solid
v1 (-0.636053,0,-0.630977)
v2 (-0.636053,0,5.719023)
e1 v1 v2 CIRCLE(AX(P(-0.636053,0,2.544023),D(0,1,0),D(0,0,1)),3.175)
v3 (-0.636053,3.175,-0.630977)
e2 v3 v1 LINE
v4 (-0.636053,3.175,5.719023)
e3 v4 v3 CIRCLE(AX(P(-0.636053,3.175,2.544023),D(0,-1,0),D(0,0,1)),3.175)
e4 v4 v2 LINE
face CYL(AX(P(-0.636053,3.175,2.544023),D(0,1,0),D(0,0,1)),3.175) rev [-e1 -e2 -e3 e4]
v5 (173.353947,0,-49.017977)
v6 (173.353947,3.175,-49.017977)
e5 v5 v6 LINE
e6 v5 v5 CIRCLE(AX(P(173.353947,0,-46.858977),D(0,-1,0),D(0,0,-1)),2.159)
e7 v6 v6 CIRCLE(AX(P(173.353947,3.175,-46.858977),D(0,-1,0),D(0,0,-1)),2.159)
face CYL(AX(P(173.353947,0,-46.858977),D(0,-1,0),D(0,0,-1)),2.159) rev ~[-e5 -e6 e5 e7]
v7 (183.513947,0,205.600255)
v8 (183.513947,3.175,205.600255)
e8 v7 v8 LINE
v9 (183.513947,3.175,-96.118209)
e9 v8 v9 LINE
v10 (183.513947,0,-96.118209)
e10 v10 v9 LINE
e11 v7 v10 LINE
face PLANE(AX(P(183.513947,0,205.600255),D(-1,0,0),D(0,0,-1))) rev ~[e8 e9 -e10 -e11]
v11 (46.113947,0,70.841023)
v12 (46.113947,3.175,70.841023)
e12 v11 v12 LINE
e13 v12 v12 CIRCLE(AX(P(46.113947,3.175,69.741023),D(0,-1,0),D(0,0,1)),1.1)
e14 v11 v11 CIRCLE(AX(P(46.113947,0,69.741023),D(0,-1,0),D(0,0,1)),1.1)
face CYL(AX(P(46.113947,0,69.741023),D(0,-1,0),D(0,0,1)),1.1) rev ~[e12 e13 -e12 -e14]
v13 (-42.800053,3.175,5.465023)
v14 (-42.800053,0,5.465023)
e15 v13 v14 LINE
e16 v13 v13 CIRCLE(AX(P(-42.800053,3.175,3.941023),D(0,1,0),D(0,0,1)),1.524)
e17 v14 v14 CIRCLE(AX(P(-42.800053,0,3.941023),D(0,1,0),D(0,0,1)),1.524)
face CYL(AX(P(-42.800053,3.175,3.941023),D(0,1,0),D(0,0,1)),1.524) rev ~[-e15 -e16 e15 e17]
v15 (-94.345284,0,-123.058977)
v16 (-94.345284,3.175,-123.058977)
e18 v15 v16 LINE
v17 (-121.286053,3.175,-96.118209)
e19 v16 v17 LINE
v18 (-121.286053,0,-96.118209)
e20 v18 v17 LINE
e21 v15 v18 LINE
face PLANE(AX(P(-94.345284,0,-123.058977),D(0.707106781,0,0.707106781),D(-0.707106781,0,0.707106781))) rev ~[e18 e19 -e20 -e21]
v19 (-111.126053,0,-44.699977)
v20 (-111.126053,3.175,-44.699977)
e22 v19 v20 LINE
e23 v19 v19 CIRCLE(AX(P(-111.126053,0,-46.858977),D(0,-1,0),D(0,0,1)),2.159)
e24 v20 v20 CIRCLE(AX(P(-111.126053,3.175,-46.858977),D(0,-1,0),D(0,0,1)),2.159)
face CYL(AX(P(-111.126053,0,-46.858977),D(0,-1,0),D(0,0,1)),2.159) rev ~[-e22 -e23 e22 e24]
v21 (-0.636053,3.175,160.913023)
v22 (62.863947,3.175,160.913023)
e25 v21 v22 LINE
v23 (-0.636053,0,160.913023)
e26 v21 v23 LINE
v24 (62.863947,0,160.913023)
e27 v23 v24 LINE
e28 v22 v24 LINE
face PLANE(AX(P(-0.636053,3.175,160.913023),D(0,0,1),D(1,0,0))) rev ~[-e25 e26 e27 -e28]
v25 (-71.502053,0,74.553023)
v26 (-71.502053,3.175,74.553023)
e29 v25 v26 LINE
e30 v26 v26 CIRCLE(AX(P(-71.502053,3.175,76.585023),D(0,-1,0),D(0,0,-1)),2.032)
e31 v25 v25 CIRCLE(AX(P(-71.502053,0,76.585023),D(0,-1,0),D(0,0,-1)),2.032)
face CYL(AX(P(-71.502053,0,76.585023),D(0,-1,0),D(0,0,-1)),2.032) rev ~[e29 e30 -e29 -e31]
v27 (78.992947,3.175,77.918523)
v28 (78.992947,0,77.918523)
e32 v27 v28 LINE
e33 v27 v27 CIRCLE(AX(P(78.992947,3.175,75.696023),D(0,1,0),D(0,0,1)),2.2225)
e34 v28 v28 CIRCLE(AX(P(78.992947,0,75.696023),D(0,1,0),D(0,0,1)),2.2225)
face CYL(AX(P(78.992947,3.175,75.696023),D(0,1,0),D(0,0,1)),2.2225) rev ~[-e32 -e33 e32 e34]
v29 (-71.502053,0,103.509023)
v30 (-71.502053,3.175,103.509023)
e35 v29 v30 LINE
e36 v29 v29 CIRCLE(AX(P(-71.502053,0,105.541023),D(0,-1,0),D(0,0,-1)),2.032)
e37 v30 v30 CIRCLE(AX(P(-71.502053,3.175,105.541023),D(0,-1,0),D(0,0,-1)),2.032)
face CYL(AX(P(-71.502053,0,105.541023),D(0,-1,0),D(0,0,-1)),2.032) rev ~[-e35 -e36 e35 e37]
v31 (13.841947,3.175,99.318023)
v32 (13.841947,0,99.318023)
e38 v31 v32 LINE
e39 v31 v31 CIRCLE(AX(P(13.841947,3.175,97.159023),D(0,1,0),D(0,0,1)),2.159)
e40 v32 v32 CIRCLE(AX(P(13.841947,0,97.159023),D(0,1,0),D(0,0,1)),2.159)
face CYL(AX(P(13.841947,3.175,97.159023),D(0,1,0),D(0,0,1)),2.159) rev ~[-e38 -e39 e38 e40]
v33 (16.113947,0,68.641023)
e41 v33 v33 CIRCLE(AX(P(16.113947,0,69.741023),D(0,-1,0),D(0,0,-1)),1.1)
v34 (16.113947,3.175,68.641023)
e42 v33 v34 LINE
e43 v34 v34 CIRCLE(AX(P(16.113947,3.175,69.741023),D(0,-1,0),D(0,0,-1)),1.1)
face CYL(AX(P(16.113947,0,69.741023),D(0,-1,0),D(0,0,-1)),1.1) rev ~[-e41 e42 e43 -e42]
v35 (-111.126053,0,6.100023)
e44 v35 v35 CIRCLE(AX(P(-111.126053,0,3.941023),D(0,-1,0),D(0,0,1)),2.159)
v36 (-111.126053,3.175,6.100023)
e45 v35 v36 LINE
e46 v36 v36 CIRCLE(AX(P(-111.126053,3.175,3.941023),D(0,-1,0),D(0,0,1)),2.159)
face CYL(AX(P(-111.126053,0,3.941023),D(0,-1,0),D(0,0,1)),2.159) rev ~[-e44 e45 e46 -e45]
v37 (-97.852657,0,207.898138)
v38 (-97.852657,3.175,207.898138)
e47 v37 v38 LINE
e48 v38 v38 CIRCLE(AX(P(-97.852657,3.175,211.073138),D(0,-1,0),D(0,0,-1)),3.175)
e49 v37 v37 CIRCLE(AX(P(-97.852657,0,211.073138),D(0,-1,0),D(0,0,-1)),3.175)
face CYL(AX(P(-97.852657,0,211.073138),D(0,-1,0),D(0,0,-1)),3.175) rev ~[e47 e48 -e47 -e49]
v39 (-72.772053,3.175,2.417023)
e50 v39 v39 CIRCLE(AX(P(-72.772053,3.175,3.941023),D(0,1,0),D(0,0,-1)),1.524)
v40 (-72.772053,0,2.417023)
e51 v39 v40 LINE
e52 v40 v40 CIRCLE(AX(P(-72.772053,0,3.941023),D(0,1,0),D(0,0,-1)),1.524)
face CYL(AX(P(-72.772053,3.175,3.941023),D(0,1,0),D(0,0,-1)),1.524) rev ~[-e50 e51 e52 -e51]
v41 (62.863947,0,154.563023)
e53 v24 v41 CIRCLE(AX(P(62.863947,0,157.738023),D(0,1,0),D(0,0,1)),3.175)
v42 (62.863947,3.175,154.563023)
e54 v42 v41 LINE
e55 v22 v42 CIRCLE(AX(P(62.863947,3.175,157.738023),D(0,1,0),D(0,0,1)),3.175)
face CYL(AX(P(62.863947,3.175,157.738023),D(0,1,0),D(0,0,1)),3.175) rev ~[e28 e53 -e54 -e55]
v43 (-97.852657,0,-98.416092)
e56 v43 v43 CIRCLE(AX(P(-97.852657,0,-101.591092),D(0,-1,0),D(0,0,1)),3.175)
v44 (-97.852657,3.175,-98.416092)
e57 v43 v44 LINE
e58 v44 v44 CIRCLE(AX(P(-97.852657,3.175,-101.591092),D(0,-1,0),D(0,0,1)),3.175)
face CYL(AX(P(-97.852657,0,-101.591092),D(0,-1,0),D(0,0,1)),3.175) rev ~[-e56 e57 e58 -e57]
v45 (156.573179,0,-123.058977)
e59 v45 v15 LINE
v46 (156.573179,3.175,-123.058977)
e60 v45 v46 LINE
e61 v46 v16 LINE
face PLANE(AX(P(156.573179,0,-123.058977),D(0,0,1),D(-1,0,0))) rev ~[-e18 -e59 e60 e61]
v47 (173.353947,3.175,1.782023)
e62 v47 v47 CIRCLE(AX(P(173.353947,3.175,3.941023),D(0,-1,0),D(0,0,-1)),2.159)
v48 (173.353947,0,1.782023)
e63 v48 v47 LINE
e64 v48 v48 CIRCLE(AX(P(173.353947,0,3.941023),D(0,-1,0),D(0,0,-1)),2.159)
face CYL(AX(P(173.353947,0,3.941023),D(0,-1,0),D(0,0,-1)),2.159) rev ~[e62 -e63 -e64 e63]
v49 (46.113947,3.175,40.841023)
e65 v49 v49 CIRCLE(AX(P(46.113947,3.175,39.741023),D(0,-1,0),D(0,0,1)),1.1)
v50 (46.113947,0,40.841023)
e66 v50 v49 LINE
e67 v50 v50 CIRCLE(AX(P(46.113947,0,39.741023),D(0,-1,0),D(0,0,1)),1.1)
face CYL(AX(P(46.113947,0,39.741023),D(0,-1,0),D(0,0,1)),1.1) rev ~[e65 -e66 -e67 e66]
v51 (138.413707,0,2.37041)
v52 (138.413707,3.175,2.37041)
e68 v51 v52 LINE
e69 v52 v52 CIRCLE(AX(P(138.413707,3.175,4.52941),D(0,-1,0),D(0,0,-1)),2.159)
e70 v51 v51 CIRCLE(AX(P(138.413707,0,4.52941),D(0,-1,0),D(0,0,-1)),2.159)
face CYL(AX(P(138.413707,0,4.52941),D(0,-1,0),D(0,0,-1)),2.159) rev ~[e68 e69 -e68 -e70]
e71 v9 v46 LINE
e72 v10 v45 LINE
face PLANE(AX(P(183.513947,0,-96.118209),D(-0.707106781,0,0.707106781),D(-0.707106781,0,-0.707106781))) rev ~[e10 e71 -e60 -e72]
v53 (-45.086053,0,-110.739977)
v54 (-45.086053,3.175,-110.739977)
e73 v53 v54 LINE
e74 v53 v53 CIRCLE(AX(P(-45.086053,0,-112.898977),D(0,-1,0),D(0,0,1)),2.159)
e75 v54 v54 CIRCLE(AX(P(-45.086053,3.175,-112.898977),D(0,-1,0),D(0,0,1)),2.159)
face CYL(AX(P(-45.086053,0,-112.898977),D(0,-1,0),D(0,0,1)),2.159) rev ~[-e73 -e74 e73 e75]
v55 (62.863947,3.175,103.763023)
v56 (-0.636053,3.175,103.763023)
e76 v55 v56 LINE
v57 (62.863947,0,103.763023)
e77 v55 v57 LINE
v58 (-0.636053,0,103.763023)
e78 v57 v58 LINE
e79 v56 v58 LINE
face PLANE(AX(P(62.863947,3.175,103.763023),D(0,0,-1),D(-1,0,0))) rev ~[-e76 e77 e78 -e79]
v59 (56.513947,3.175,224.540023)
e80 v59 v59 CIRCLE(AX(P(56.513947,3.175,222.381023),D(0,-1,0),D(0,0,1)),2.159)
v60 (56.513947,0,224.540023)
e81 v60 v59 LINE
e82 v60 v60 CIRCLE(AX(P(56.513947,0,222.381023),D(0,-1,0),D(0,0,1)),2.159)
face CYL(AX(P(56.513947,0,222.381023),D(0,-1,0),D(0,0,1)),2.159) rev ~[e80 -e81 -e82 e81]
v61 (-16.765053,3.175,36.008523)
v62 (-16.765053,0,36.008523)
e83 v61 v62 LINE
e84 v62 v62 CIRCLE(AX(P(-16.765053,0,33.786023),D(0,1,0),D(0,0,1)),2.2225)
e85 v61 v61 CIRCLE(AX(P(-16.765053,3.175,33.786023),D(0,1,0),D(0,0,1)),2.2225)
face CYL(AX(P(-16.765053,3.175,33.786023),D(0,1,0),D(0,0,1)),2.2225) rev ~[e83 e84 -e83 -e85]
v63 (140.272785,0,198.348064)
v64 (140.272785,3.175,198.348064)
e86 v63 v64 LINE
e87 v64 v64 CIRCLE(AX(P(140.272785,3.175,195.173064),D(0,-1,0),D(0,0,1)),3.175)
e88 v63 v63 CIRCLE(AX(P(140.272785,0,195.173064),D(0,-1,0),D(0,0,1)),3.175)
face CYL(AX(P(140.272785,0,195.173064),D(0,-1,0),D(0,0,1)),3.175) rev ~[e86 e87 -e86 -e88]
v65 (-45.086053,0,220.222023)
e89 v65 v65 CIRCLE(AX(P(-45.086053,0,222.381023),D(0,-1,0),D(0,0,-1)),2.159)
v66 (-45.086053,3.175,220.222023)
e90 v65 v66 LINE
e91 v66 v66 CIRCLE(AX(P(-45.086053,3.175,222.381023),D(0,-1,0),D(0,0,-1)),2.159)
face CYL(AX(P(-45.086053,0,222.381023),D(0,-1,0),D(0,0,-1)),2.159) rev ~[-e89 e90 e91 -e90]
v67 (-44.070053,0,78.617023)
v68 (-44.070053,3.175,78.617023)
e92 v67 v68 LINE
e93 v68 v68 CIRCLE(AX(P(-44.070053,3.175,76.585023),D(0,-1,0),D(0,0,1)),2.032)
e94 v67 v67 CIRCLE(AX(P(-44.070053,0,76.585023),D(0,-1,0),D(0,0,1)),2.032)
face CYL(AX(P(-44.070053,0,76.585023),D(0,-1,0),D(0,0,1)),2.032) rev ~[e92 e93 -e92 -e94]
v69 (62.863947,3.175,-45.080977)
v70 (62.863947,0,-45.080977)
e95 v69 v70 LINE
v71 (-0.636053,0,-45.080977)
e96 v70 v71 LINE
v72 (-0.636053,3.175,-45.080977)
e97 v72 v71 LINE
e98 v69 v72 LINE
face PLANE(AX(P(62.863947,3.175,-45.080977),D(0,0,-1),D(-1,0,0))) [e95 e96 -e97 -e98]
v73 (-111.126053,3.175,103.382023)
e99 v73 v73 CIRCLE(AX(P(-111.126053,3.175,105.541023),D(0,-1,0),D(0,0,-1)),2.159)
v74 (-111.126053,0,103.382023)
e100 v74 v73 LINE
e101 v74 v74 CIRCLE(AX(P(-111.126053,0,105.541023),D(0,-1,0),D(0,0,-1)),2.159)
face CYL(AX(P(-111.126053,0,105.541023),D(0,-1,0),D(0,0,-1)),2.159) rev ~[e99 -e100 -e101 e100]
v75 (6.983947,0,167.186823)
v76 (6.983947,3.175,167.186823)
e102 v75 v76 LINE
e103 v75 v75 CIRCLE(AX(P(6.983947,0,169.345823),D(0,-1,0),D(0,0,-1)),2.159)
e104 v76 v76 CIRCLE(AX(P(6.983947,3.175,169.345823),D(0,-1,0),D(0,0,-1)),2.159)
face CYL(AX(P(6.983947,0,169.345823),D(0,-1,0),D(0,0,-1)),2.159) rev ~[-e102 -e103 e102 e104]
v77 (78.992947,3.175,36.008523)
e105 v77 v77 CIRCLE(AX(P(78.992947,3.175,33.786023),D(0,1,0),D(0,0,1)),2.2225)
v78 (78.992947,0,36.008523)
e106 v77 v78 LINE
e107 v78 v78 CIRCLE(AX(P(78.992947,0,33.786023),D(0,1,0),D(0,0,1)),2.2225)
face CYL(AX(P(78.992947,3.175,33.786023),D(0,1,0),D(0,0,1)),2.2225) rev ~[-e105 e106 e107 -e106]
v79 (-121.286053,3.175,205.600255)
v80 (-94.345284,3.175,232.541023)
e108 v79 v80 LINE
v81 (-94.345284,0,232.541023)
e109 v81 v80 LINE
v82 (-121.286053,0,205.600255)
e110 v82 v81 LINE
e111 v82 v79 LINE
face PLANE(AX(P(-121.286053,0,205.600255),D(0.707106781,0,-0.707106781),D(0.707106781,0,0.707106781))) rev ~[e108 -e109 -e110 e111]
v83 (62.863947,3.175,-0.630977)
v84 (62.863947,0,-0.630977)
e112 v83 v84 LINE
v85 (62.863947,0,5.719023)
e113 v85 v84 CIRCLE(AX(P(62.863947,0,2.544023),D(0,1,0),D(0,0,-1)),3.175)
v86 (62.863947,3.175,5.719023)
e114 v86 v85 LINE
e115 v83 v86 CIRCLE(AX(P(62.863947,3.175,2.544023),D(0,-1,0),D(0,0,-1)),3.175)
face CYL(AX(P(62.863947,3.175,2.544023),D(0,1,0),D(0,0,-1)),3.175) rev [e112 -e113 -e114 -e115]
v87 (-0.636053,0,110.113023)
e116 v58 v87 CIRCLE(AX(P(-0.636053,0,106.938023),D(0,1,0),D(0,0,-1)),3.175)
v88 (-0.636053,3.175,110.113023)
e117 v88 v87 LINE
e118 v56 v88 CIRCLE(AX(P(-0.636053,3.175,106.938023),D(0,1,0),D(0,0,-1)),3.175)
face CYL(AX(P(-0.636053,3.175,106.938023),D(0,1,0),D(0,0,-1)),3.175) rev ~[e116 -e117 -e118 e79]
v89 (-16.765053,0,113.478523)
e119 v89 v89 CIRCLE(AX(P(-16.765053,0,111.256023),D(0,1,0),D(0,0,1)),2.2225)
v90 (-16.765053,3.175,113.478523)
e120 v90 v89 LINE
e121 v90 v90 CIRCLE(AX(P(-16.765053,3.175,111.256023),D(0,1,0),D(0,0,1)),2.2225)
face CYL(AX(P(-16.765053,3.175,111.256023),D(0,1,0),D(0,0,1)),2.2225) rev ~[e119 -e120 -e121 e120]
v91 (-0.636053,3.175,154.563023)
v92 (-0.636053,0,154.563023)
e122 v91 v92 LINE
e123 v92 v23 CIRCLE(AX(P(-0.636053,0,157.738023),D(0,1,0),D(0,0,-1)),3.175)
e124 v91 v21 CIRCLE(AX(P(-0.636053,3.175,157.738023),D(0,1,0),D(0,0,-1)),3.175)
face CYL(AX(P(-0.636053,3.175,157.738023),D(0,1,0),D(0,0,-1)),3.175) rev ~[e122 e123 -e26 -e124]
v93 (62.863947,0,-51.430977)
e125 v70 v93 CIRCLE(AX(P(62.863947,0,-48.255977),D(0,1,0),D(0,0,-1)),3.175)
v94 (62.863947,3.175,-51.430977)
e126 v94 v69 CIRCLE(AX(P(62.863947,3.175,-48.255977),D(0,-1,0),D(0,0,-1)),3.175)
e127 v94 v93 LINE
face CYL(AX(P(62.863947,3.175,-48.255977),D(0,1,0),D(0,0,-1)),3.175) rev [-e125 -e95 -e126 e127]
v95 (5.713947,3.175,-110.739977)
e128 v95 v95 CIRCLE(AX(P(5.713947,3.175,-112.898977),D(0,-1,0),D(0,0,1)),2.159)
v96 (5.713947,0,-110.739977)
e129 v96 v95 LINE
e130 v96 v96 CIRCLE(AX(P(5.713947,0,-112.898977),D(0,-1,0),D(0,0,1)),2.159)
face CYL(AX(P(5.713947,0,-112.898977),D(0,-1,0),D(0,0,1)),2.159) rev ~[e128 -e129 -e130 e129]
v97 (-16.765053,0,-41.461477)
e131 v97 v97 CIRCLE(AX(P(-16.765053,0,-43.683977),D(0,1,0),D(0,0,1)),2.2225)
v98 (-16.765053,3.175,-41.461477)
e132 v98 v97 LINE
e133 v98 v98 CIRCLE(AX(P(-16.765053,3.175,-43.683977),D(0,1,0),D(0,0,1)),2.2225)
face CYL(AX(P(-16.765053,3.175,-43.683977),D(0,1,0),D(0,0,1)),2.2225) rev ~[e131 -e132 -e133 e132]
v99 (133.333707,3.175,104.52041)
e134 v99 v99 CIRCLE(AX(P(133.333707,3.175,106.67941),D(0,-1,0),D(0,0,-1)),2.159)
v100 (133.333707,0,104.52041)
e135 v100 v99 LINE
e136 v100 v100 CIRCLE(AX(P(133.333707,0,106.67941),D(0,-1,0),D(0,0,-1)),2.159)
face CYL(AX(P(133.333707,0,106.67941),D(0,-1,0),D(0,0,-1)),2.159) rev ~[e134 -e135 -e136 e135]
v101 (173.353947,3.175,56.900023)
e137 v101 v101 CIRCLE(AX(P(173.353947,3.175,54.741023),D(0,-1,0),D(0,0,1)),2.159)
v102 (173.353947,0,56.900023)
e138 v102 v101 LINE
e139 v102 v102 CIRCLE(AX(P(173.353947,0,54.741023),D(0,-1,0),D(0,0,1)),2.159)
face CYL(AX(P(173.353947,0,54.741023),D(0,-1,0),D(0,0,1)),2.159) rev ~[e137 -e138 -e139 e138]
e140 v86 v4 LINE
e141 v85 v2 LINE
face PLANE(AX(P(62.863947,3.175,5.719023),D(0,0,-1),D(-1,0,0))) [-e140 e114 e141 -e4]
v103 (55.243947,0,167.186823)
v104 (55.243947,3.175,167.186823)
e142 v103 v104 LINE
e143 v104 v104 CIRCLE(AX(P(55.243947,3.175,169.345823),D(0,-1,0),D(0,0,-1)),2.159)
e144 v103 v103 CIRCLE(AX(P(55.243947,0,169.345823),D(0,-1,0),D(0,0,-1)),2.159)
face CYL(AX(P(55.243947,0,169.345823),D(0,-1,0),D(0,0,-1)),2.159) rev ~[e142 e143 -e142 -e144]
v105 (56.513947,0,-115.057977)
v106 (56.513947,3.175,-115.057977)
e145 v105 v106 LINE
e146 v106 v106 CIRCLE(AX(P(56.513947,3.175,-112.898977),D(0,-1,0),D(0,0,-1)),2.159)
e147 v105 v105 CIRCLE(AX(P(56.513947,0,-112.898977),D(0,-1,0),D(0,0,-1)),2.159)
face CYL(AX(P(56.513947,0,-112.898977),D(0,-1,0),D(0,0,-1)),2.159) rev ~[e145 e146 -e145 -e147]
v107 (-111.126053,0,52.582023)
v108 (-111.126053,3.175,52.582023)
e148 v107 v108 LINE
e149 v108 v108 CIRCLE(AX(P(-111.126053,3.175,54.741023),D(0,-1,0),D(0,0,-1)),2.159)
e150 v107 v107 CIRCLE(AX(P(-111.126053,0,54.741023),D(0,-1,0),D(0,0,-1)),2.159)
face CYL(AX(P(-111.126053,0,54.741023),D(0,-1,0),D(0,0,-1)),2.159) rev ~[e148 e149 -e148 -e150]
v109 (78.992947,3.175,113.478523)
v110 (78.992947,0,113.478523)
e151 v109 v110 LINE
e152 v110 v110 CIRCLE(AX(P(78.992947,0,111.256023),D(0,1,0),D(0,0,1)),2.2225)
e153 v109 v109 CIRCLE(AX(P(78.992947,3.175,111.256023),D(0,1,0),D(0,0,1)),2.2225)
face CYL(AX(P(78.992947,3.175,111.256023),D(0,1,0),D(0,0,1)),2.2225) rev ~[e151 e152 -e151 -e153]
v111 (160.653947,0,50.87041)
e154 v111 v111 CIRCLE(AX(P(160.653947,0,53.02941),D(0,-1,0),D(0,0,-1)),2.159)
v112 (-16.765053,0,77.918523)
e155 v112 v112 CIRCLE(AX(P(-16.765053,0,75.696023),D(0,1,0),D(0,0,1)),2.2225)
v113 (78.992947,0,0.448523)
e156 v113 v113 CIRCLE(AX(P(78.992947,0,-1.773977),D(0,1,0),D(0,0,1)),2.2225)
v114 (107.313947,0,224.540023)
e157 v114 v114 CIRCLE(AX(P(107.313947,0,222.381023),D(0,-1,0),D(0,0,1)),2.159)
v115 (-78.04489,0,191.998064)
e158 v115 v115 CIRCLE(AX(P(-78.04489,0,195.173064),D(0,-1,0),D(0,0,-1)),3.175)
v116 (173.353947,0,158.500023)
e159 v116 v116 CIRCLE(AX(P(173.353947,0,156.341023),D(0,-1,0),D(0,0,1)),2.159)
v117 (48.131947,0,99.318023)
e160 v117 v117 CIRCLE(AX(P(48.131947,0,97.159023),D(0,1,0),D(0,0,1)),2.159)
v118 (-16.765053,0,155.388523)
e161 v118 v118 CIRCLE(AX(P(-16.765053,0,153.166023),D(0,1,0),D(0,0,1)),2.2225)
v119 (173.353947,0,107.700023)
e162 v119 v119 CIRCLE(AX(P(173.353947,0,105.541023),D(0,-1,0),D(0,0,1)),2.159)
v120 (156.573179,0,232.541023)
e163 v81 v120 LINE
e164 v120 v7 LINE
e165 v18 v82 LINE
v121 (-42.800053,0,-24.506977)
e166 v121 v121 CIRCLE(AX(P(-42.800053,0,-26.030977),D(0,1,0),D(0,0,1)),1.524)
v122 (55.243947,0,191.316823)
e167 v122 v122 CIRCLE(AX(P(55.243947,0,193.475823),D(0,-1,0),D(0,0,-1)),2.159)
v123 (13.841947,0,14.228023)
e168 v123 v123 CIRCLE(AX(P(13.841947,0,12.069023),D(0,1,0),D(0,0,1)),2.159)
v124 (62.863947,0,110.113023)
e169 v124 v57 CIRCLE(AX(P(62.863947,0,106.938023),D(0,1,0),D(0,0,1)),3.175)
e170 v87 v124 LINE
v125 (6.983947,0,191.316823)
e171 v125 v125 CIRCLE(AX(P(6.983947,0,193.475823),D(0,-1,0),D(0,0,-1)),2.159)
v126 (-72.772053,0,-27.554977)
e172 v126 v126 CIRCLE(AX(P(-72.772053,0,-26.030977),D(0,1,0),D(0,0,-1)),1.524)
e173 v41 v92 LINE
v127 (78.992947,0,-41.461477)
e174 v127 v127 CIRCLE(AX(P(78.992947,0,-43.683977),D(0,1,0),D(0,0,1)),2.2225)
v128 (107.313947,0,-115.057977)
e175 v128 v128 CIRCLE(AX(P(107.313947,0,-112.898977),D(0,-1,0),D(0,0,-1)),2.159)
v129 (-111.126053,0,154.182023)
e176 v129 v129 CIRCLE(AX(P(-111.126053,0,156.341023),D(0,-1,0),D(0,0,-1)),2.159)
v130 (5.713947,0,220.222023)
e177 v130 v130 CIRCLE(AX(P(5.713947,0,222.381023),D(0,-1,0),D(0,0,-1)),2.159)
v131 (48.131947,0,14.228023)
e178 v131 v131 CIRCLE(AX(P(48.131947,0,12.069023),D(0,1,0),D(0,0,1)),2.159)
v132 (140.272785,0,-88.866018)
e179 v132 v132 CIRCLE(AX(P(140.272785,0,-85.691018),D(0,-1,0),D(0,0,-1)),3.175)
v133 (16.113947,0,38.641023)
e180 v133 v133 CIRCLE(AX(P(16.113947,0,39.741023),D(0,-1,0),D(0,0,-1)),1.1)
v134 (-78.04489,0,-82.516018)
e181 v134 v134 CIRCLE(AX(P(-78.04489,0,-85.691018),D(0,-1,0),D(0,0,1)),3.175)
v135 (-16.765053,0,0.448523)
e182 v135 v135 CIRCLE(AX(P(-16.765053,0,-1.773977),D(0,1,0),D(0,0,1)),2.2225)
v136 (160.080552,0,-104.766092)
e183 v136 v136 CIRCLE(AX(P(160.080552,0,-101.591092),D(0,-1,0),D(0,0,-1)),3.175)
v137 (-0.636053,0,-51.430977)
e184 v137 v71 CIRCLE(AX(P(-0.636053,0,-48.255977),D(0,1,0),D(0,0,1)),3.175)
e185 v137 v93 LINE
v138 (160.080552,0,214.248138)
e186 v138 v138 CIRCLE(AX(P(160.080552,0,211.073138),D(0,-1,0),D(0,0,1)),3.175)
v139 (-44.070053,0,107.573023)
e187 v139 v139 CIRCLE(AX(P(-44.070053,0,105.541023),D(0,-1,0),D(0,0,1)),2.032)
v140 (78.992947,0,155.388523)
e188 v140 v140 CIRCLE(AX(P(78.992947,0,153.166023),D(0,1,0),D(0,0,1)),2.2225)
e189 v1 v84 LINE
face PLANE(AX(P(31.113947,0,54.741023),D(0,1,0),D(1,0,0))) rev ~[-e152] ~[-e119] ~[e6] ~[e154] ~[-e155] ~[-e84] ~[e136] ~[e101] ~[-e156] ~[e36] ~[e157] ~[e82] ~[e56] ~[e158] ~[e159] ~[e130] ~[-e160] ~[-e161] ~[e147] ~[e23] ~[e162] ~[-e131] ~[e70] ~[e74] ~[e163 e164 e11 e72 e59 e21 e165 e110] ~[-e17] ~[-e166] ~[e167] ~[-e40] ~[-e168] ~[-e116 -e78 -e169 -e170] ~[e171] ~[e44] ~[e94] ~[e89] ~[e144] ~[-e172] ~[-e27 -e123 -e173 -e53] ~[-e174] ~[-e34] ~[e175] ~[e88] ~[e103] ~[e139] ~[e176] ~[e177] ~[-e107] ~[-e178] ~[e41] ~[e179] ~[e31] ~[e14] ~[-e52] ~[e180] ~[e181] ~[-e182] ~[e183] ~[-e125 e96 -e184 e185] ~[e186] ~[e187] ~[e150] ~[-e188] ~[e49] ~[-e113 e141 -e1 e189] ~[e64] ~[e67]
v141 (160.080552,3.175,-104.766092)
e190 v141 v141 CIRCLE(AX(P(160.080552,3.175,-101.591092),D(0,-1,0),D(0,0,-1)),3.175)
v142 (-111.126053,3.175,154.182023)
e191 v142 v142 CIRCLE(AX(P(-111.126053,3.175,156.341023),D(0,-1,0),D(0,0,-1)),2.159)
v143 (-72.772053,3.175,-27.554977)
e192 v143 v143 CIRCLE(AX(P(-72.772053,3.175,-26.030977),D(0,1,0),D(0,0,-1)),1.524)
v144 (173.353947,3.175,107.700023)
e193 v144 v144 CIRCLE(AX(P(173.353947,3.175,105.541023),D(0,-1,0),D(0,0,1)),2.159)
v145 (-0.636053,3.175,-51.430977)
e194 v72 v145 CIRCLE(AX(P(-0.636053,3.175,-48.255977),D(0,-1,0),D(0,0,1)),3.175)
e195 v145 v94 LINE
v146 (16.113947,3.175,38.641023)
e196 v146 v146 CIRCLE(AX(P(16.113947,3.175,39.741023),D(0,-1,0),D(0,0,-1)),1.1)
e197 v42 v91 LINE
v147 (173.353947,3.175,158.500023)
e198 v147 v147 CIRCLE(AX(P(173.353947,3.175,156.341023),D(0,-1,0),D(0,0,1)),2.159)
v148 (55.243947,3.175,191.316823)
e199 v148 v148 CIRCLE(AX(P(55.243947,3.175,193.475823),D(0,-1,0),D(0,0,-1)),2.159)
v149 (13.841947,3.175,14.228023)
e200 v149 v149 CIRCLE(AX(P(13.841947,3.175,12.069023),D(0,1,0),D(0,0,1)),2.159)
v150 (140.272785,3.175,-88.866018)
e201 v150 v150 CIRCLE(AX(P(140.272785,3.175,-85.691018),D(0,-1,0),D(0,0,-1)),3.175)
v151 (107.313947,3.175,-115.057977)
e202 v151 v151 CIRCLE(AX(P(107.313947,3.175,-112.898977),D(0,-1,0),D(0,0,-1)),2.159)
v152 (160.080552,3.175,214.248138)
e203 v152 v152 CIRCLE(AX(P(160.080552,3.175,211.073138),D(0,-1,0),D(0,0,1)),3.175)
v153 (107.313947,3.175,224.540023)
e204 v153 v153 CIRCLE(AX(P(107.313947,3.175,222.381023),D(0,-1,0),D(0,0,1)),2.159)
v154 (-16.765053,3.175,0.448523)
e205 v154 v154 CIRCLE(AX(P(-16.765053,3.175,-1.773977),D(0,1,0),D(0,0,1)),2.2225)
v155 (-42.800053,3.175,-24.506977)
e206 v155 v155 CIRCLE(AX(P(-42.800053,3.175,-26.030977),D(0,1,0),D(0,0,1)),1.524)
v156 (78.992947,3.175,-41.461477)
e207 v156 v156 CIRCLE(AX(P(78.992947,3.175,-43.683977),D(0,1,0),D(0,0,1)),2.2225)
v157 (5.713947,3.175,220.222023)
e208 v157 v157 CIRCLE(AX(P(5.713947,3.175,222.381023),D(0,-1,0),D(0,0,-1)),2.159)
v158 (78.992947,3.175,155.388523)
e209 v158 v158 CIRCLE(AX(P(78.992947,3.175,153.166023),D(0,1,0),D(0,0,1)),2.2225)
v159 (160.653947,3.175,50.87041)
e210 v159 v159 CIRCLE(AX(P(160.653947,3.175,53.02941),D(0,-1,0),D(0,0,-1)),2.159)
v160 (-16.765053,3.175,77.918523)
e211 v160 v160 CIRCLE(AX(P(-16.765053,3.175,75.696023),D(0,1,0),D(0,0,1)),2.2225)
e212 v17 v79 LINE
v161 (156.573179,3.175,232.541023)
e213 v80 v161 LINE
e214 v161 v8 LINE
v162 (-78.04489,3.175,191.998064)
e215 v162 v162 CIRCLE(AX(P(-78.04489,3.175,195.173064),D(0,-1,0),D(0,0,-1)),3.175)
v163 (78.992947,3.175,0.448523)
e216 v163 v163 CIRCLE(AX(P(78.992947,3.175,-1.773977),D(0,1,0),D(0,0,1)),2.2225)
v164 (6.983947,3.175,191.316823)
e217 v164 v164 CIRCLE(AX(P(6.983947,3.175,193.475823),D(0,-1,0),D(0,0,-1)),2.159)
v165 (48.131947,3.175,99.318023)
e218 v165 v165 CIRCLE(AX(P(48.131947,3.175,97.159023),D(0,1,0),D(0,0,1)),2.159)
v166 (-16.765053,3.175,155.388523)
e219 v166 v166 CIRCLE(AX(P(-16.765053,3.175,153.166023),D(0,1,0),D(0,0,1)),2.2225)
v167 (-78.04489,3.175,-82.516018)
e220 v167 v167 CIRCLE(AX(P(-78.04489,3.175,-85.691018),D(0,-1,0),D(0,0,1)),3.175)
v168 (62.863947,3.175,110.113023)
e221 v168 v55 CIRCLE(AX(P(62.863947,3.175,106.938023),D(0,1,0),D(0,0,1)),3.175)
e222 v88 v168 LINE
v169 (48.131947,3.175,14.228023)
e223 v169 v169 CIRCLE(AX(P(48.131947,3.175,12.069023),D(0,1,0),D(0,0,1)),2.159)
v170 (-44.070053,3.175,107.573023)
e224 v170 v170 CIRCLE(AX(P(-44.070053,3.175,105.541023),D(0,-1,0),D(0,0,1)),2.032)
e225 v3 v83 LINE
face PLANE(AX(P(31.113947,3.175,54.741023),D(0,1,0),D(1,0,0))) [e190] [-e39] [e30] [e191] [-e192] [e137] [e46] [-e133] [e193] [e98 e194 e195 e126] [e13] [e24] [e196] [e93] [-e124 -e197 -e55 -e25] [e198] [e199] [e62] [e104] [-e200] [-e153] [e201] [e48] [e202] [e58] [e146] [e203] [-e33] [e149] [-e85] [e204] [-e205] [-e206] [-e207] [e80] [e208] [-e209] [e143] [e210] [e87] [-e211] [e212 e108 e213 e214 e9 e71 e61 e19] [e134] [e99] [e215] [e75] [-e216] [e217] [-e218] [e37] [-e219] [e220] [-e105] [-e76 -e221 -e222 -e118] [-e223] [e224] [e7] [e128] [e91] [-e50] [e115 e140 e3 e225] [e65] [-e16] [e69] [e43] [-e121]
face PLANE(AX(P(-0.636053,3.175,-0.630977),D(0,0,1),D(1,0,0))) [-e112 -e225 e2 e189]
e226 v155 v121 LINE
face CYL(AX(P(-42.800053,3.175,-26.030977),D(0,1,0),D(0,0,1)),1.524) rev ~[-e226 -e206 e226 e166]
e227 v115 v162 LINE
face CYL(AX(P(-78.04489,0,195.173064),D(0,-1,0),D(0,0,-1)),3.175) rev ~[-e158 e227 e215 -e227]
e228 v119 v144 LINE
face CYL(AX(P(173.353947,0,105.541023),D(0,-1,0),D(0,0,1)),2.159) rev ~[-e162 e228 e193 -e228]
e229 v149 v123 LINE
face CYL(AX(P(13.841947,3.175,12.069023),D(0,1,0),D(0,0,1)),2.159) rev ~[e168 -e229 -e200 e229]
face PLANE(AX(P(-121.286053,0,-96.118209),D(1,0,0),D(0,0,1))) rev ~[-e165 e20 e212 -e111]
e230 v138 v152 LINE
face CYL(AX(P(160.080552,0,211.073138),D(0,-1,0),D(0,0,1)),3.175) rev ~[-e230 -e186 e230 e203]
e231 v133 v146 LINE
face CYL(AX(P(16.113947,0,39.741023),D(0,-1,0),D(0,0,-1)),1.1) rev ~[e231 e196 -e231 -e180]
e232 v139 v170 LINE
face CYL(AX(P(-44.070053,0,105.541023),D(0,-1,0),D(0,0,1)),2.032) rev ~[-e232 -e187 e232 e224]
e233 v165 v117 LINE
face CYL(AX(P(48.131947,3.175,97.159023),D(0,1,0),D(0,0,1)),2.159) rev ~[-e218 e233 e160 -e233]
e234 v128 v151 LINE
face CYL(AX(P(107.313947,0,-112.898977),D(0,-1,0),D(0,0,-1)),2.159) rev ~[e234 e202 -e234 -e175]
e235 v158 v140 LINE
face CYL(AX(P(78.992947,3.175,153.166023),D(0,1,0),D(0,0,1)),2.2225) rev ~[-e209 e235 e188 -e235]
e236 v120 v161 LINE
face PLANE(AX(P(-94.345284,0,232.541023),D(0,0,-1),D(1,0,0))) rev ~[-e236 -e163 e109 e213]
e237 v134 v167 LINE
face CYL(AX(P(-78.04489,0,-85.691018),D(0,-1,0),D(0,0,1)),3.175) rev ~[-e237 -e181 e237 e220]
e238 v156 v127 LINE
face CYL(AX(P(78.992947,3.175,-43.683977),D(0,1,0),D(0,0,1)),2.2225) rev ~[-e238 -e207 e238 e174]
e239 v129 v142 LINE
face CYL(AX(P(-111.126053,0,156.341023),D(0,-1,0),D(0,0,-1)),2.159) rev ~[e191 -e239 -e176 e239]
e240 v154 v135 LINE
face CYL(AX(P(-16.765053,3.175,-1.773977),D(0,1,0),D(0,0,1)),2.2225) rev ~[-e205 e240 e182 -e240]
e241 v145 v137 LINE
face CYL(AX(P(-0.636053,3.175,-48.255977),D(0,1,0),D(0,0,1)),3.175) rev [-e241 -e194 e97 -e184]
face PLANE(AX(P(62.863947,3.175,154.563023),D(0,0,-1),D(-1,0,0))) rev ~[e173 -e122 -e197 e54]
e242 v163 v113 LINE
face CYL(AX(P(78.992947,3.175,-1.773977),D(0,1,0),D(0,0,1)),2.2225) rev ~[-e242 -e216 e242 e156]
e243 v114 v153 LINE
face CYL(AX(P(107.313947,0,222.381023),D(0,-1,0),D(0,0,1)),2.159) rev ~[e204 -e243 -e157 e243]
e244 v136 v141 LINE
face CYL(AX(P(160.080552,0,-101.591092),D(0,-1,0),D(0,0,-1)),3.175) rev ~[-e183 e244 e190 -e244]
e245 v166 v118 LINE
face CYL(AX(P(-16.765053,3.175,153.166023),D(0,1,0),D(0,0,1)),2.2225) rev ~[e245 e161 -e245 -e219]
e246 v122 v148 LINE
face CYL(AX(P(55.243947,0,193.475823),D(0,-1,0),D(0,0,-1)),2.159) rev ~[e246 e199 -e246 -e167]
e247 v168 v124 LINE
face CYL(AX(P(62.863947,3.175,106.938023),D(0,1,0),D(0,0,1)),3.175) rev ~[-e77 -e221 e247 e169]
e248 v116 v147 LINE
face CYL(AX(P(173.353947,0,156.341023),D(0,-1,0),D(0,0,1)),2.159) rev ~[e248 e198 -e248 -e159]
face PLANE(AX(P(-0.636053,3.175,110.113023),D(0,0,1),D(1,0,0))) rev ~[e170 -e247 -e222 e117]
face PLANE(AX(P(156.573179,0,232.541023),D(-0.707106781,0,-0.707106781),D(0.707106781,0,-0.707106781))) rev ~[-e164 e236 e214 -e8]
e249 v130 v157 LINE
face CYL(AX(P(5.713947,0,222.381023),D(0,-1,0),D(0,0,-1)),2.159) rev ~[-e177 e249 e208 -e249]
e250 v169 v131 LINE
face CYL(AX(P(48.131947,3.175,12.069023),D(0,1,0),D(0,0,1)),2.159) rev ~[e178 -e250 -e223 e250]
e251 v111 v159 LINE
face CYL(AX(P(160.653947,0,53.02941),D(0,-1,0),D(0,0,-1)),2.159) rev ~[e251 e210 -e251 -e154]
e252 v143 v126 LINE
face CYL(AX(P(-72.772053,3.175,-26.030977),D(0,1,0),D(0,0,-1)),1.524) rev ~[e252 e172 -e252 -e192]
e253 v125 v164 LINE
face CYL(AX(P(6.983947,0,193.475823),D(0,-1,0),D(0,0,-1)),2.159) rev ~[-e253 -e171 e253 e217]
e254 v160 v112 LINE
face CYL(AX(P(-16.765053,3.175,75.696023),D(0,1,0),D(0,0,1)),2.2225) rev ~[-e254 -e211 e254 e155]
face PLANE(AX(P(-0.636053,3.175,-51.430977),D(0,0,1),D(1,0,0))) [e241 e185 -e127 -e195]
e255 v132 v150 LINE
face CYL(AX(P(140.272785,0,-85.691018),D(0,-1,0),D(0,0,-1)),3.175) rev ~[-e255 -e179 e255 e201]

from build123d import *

# Parameters (mm, degrees)
BOSS_EXTRUDE1_DEPTH = 3.175
SKETCH2_R           = 2.159
CUT_EXTRUDE1_DEPTH  = 297.247830215
CUT_EXTRUDE2_DEPTH  = 297.247830215
SKETCH7_R           = 1.524
CUT_EXTRUDE3_DEPTH  = 297.247830215
SKETCH10_R          = 2.159
CUT_EXTRUDE6_DEPTH  = 297.247830215
SKETCH9_R           = 2.032
CUT_EXTRUDE5_DEPTH  = 297.247830215
SKETCH13_R          = 1.1
CUT_EXTRUDE8_DEPTH  = 297.247830215
SKETCH14_R          = 3.175
CUT_EXTRUDE9_DEPTH  = 297.247830215
SKETCH15_R          = 2.159
CUT_EXTRUDE10_DEPTH = 297.247830215
SKETCH16_R          = 2.159
CUT_EXTRUDE11_DEPTH = 297.247830215
SKETCH17_R          = 2.2225
CUT_EXTRUDE13_DEPTH = 297.247830215


with BuildPart() as part:
    # Sketch1 → Boss-Extrude1 (new body)
    with BuildSketch(Plane(origin=(0, 0, 0), x_dir=(1, 0, 0), z_dir=(0, 1, 0))):
        Polygon((-94.345284264, 123.058976948), (-121.286052627, 96.118208585), (-121.286052627, -205.600254688), (-94.345284264, -232.541023052), (156.573179009, -232.541023052), (183.513947373, -205.600254688), (183.513947373, 96.118208585), (156.573179009, 123.058976948), align=None)
    extrude(amount=BOSS_EXTRUDE1_DEPTH)

    # Sketch2 → Cut-Extrude1 (cut, through all)
    with BuildSketch(Plane(origin=(0, 3.175, 0), x_dir=(1, 0, 0), z_dir=(0, 1, 0))):
        with Locations(Location((13.841947373, -12.069023052, 0), (0, 0, 270))):
            Circle(SKETCH2_R)
        with Locations(Location((48.131947373, -12.069023052, 0), (0, 0, 270))):
            Circle(SKETCH2_R)
        with Locations(Location((13.841947373, -97.159023052, 0), (0, 0, 270))):
            Circle(SKETCH2_R)
        with Locations(Location((48.131947373, -97.159023052, 0), (0, 0, 270))):
            Circle(SKETCH2_R)
    extrude(amount=-CUT_EXTRUDE1_DEPTH, mode=Mode.SUBTRACT)

    # Sketch4 → Cut-Extrude2 (cut, through all)
    with BuildSketch(Plane(origin=(0, 3.175, 0), x_dir=(1, 0, 0), z_dir=(0, 1, 0))):
        with BuildLine():
            Line((-0.636052627, 51.430976948), (62.863947373, 51.430976948))
            ThreePointArc((62.863947373, 51.430976948), (66.038947373, 48.255976948), (62.863947373, 45.080976948))
            Line((62.863947373, 45.080976948), (-0.636052627, 45.080976948))
            ThreePointArc((-0.636052627, 45.080976948), (-3.811052627, 48.255976948), (-0.636052627, 51.430976948))
        make_face()
        with BuildLine():
            Line((-0.636052627, 0.630976948), (62.863947373, 0.630976948))
            ThreePointArc((62.863947373, 0.630976948), (66.038947373, -2.544023052), (62.863947373, -5.719023052))
            Line((62.863947373, -5.719023052), (-0.636052627, -5.719023052))
            ThreePointArc((-0.636052627, -5.719023052), (-3.811052627, -2.544023052), (-0.636052627, 0.630976948))
        make_face()
        with BuildLine():
            Line((-0.636052627, -110.113023052), (62.863947373, -110.113023052))
            ThreePointArc((62.863947373, -110.113023052), (66.038947373, -106.938023052), (62.863947373, -103.763023052))
            Line((62.863947373, -103.763023052), (-0.636052627, -103.763023052))
            ThreePointArc((-0.636052627, -103.763023052), (-3.811052627, -106.938023052), (-0.636052627, -110.113023052))
        make_face()
        with BuildLine():
            Line((-0.636052627, -160.913023052), (62.863947373, -160.913023052))
            ThreePointArc((62.863947373, -160.913023052), (66.038947373, -157.738023052), (62.863947373, -154.563023052))
            Line((62.863947373, -154.563023052), (-0.636052627, -154.563023052))
            ThreePointArc((-0.636052627, -154.563023052), (-3.811052627, -157.738023052), (-0.636052627, -160.913023052))
        make_face()
    extrude(amount=-CUT_EXTRUDE2_DEPTH, mode=Mode.SUBTRACT)

    # Sketch7 → Cut-Extrude3 (cut, through all)
    with BuildSketch(Plane(origin=(0, 3.175, 0), x_dir=(1, 0, 0), z_dir=(0, 1, 0))):
        with Locations(Location((-42.800052627, 26.030976948, 0), (0, 0, 270))):
            Circle(SKETCH7_R)
        with Locations(Location((-42.800052627, -3.941023052, 0), (0, 0, 270))):
            Circle(SKETCH7_R)
        with Locations(Location((-72.772052627, -3.941023052, 0), (0, 0, 90))):
            Circle(SKETCH7_R)
        with Locations(Location((-72.772052627, 26.030976948, 0), (0, 0, 90))):
            Circle(SKETCH7_R)
    extrude(amount=-CUT_EXTRUDE3_DEPTH, mode=Mode.SUBTRACT)

    # Sketch10 → Cut-Extrude6 (cut, through all)
    with BuildSketch(Plane.XZ):
        with Locations(Location((6.983947373, 193.475823052, 0), (0, 0, 270))):
            Circle(SKETCH10_R)
        with Locations(Location((55.243947373, 193.475823052, 0), (0, 0, 270))):
            Circle(SKETCH10_R)
        with Locations(Location((6.983947373, 169.345823052, 0), (0, 0, 270))):
            Circle(SKETCH10_R)
        with Locations(Location((55.243947373, 169.345823052, 0), (0, 0, 270))):
            Circle(SKETCH10_R)
    extrude(amount=-CUT_EXTRUDE6_DEPTH, mode=Mode.SUBTRACT)

    # Sketch9 → Cut-Extrude5 (cut, through all)
    with BuildSketch(Plane(origin=(0, 0, 0), x_dir=(-1, 0, 0), z_dir=(0, -1, 0))):
        with Locations(Location((71.502052627, -105.541023052, 0), (0, 0, 90))):
            Circle(SKETCH9_R)
        with Locations(Location((44.070052627, -105.541023052, 0), (0, 0, 270))):
            Circle(SKETCH9_R)
        with Locations(Location((71.502052627, -76.585023052, 0), (0, 0, 90))):
            Circle(SKETCH9_R)
        with Locations(Location((44.070052627, -76.585023052, 0), (0, 0, 270))):
            Circle(SKETCH9_R)
    extrude(amount=-CUT_EXTRUDE5_DEPTH, mode=Mode.SUBTRACT)

    # Sketch13 → Cut-Extrude8 (cut, through all)
    with BuildSketch(Plane.XZ):
        with Locations(Location((16.113947373, 69.741023052, 0), (0, 0, 270))):
            Circle(SKETCH13_R)
        with Locations(Location((16.113947373, 39.741023052, 0), (0, 0, 270))):
            Circle(SKETCH13_R)
        with Locations(Location((46.113947373, 39.741023052, 0), (0, 0, 90))):
            Circle(SKETCH13_R)
        with Locations(Location((46.113947373, 69.741023052, 0), (0, 0, 90))):
            Circle(SKETCH13_R)
    extrude(amount=-CUT_EXTRUDE8_DEPTH, mode=Mode.SUBTRACT)

    # Sketch14 → Cut-Extrude9 (cut, through all)
    with BuildSketch(Plane.XZ):
        with Locations(Location((-97.852656819, 211.073138254, 0), (0, 0, 270))):
            Circle(SKETCH14_R)
        with Locations(Location((-78.044889942, 195.173063684, 0), (0, 0, 270))):
            Circle(SKETCH14_R)
        with Locations(Location((140.272784687, 195.173063684, 0), (0, 0, 90))):
            Circle(SKETCH14_R)
        with Locations(Location((160.080551565, 211.073138254, 0), (0, 0, 90))):
            Circle(SKETCH14_R)
        with Locations(Location((-97.852656819, -101.591092151, 0), (0, 0, 90))):
            Circle(SKETCH14_R)
        with Locations(Location((-78.044889942, -85.691017581, 0), (0, 0, 90))):
            Circle(SKETCH14_R)
        with Locations(Location((160.080551565, -101.591092151, 0), (0, 0, 270))):
            Circle(SKETCH14_R)
        with Locations(Location((140.272784687, -85.691017581, 0), (0, 0, 270))):
            Circle(SKETCH14_R)
    extrude(amount=-CUT_EXTRUDE9_DEPTH, mode=Mode.SUBTRACT)

    # Sketch15 → Cut-Extrude10 (cut, through all)
    with BuildSketch(Plane.XZ):
        with Locations(Location((5.713947373, 222.381023052, 0), (0, 0, 270))):
            Circle(SKETCH15_R)
        with Locations(Location((-45.086052627, 222.381023052, 0), (0, 0, 270))):
            Circle(SKETCH15_R)
        with Locations(Location((-111.126052627, 54.741023052, 0), (0, 0, 270))):
            Circle(SKETCH15_R)
        with Locations(Location((-111.126052627, 105.541023052, 0), (0, 0, 270))):
            Circle(SKETCH15_R)
        with Locations(Location((-111.126052627, 156.341023052, 0), (0, 0, 270))):
            Circle(SKETCH15_R)
        with Locations(Location((173.353947373, 156.341023052, 0), (0, 0, 90))):
            Circle(SKETCH15_R)
        with Locations(Location((173.353947373, 105.541023052, 0), (0, 0, 90))):
            Circle(SKETCH15_R)
        with Locations(Location((173.353947373, 54.741023052, 0), (0, 0, 90))):
            Circle(SKETCH15_R)
        with Locations(Location((107.313947373, 222.381023052, 0), (0, 0, 90))):
            Circle(SKETCH15_R)
        with Locations(Location((56.513947373, 222.381023052, 0), (0, 0, 90))):
            Circle(SKETCH15_R)
        with Locations(Location((56.513947373, -112.898976948, 0), (0, 0, 270))):
            Circle(SKETCH15_R)
        with Locations(Location((107.313947373, -112.898976948, 0), (0, 0, 270))):
            Circle(SKETCH15_R)
        with Locations(Location((173.353947373, 3.941023052, 0), (0, 0, 270))):
            Circle(SKETCH15_R)
        with Locations(Location((173.353947373, -46.858976948, 0), (0, 0, 270))):
            Circle(SKETCH15_R)
        with Locations(Location((-111.126052627, -46.858976948, 0), (0, 0, 90))):
            Circle(SKETCH15_R)
        with Locations(Location((-111.126052627, 3.941023052, 0), (0, 0, 90))):
            Circle(SKETCH15_R)
        with Locations(Location((-45.086052627, -112.898976948, 0), (0, 0, 90))):
            Circle(SKETCH15_R)
        with Locations(Location((5.713947373, -112.898976948, 0), (0, 0, 90))):
            Circle(SKETCH15_R)
    extrude(amount=-CUT_EXTRUDE10_DEPTH, mode=Mode.SUBTRACT)

    # Sketch16 → Cut-Extrude11 (cut, through all)
    with BuildSketch(Plane(origin=(0, 0, 0), x_dir=(-1, 0, 0), z_dir=(0, -1, 0))):
        with Locations(Location((-133.333707373, -106.679409794, 0), (0, 0, 90))):
            Circle(SKETCH16_R)
        with Locations(Location((-138.413707373, -4.529409794, 0), (0, 0, 90))):
            Circle(SKETCH16_R)
        with Locations(Location((-160.653947373, -53.029409794, 0), (0, 0, 90))):
            Circle(SKETCH16_R)
    extrude(amount=-CUT_EXTRUDE11_DEPTH, mode=Mode.SUBTRACT)

    # Sketch17 → Cut-Extrude13 (cut, through all)
    with BuildSketch(Plane(origin=(0, 3.175, 0), x_dir=(1, 0, 0), z_dir=(0, 1, 0))):
        with Locations(Location((78.992947373, -153.166023052, 0), (0, 0, 270))):
            Circle(SKETCH17_R)
        with Locations(Location((-16.765052627, -153.166023052, 0), (0, 0, 270))):
            Circle(SKETCH17_R)
        with Locations(Location((78.992947373, -111.256023052, 0), (0, 0, 270))):
            Circle(SKETCH17_R)
        with Locations(Location((-16.765052627, -111.256023052, 0), (0, 0, 270))):
            Circle(SKETCH17_R)
        with Locations(Location((78.992947373, -75.696023052, 0), (0, 0, 270))):
            Circle(SKETCH17_R)
        with Locations(Location((-16.765052627, -75.696023052, 0), (0, 0, 270))):
            Circle(SKETCH17_R)
        with Locations(Location((78.992947373, -33.786023052, 0), (0, 0, 270))):
            Circle(SKETCH17_R)
        with Locations(Location((-16.765052627, -33.786023052, 0), (0, 0, 270))):
            Circle(SKETCH17_R)
        with Locations(Location((78.992947373, 1.773976948, 0), (0, 0, 270))):
            Circle(SKETCH17_R)
        with Locations(Location((-16.765052627, 1.773976948, 0), (0, 0, 270))):
            Circle(SKETCH17_R)
        with Locations(Location((78.992947373, 43.683976948, 0), (0, 0, 270))):
            Circle(SKETCH17_R)
        with Locations(Location((-16.765052627, 43.683976948, 0), (0, 0, 270))):
            Circle(SKETCH17_R)
    extrude(amount=-CUT_EXTRUDE13_DEPTH, mode=Mode.SUBTRACT)


solid = part.part
